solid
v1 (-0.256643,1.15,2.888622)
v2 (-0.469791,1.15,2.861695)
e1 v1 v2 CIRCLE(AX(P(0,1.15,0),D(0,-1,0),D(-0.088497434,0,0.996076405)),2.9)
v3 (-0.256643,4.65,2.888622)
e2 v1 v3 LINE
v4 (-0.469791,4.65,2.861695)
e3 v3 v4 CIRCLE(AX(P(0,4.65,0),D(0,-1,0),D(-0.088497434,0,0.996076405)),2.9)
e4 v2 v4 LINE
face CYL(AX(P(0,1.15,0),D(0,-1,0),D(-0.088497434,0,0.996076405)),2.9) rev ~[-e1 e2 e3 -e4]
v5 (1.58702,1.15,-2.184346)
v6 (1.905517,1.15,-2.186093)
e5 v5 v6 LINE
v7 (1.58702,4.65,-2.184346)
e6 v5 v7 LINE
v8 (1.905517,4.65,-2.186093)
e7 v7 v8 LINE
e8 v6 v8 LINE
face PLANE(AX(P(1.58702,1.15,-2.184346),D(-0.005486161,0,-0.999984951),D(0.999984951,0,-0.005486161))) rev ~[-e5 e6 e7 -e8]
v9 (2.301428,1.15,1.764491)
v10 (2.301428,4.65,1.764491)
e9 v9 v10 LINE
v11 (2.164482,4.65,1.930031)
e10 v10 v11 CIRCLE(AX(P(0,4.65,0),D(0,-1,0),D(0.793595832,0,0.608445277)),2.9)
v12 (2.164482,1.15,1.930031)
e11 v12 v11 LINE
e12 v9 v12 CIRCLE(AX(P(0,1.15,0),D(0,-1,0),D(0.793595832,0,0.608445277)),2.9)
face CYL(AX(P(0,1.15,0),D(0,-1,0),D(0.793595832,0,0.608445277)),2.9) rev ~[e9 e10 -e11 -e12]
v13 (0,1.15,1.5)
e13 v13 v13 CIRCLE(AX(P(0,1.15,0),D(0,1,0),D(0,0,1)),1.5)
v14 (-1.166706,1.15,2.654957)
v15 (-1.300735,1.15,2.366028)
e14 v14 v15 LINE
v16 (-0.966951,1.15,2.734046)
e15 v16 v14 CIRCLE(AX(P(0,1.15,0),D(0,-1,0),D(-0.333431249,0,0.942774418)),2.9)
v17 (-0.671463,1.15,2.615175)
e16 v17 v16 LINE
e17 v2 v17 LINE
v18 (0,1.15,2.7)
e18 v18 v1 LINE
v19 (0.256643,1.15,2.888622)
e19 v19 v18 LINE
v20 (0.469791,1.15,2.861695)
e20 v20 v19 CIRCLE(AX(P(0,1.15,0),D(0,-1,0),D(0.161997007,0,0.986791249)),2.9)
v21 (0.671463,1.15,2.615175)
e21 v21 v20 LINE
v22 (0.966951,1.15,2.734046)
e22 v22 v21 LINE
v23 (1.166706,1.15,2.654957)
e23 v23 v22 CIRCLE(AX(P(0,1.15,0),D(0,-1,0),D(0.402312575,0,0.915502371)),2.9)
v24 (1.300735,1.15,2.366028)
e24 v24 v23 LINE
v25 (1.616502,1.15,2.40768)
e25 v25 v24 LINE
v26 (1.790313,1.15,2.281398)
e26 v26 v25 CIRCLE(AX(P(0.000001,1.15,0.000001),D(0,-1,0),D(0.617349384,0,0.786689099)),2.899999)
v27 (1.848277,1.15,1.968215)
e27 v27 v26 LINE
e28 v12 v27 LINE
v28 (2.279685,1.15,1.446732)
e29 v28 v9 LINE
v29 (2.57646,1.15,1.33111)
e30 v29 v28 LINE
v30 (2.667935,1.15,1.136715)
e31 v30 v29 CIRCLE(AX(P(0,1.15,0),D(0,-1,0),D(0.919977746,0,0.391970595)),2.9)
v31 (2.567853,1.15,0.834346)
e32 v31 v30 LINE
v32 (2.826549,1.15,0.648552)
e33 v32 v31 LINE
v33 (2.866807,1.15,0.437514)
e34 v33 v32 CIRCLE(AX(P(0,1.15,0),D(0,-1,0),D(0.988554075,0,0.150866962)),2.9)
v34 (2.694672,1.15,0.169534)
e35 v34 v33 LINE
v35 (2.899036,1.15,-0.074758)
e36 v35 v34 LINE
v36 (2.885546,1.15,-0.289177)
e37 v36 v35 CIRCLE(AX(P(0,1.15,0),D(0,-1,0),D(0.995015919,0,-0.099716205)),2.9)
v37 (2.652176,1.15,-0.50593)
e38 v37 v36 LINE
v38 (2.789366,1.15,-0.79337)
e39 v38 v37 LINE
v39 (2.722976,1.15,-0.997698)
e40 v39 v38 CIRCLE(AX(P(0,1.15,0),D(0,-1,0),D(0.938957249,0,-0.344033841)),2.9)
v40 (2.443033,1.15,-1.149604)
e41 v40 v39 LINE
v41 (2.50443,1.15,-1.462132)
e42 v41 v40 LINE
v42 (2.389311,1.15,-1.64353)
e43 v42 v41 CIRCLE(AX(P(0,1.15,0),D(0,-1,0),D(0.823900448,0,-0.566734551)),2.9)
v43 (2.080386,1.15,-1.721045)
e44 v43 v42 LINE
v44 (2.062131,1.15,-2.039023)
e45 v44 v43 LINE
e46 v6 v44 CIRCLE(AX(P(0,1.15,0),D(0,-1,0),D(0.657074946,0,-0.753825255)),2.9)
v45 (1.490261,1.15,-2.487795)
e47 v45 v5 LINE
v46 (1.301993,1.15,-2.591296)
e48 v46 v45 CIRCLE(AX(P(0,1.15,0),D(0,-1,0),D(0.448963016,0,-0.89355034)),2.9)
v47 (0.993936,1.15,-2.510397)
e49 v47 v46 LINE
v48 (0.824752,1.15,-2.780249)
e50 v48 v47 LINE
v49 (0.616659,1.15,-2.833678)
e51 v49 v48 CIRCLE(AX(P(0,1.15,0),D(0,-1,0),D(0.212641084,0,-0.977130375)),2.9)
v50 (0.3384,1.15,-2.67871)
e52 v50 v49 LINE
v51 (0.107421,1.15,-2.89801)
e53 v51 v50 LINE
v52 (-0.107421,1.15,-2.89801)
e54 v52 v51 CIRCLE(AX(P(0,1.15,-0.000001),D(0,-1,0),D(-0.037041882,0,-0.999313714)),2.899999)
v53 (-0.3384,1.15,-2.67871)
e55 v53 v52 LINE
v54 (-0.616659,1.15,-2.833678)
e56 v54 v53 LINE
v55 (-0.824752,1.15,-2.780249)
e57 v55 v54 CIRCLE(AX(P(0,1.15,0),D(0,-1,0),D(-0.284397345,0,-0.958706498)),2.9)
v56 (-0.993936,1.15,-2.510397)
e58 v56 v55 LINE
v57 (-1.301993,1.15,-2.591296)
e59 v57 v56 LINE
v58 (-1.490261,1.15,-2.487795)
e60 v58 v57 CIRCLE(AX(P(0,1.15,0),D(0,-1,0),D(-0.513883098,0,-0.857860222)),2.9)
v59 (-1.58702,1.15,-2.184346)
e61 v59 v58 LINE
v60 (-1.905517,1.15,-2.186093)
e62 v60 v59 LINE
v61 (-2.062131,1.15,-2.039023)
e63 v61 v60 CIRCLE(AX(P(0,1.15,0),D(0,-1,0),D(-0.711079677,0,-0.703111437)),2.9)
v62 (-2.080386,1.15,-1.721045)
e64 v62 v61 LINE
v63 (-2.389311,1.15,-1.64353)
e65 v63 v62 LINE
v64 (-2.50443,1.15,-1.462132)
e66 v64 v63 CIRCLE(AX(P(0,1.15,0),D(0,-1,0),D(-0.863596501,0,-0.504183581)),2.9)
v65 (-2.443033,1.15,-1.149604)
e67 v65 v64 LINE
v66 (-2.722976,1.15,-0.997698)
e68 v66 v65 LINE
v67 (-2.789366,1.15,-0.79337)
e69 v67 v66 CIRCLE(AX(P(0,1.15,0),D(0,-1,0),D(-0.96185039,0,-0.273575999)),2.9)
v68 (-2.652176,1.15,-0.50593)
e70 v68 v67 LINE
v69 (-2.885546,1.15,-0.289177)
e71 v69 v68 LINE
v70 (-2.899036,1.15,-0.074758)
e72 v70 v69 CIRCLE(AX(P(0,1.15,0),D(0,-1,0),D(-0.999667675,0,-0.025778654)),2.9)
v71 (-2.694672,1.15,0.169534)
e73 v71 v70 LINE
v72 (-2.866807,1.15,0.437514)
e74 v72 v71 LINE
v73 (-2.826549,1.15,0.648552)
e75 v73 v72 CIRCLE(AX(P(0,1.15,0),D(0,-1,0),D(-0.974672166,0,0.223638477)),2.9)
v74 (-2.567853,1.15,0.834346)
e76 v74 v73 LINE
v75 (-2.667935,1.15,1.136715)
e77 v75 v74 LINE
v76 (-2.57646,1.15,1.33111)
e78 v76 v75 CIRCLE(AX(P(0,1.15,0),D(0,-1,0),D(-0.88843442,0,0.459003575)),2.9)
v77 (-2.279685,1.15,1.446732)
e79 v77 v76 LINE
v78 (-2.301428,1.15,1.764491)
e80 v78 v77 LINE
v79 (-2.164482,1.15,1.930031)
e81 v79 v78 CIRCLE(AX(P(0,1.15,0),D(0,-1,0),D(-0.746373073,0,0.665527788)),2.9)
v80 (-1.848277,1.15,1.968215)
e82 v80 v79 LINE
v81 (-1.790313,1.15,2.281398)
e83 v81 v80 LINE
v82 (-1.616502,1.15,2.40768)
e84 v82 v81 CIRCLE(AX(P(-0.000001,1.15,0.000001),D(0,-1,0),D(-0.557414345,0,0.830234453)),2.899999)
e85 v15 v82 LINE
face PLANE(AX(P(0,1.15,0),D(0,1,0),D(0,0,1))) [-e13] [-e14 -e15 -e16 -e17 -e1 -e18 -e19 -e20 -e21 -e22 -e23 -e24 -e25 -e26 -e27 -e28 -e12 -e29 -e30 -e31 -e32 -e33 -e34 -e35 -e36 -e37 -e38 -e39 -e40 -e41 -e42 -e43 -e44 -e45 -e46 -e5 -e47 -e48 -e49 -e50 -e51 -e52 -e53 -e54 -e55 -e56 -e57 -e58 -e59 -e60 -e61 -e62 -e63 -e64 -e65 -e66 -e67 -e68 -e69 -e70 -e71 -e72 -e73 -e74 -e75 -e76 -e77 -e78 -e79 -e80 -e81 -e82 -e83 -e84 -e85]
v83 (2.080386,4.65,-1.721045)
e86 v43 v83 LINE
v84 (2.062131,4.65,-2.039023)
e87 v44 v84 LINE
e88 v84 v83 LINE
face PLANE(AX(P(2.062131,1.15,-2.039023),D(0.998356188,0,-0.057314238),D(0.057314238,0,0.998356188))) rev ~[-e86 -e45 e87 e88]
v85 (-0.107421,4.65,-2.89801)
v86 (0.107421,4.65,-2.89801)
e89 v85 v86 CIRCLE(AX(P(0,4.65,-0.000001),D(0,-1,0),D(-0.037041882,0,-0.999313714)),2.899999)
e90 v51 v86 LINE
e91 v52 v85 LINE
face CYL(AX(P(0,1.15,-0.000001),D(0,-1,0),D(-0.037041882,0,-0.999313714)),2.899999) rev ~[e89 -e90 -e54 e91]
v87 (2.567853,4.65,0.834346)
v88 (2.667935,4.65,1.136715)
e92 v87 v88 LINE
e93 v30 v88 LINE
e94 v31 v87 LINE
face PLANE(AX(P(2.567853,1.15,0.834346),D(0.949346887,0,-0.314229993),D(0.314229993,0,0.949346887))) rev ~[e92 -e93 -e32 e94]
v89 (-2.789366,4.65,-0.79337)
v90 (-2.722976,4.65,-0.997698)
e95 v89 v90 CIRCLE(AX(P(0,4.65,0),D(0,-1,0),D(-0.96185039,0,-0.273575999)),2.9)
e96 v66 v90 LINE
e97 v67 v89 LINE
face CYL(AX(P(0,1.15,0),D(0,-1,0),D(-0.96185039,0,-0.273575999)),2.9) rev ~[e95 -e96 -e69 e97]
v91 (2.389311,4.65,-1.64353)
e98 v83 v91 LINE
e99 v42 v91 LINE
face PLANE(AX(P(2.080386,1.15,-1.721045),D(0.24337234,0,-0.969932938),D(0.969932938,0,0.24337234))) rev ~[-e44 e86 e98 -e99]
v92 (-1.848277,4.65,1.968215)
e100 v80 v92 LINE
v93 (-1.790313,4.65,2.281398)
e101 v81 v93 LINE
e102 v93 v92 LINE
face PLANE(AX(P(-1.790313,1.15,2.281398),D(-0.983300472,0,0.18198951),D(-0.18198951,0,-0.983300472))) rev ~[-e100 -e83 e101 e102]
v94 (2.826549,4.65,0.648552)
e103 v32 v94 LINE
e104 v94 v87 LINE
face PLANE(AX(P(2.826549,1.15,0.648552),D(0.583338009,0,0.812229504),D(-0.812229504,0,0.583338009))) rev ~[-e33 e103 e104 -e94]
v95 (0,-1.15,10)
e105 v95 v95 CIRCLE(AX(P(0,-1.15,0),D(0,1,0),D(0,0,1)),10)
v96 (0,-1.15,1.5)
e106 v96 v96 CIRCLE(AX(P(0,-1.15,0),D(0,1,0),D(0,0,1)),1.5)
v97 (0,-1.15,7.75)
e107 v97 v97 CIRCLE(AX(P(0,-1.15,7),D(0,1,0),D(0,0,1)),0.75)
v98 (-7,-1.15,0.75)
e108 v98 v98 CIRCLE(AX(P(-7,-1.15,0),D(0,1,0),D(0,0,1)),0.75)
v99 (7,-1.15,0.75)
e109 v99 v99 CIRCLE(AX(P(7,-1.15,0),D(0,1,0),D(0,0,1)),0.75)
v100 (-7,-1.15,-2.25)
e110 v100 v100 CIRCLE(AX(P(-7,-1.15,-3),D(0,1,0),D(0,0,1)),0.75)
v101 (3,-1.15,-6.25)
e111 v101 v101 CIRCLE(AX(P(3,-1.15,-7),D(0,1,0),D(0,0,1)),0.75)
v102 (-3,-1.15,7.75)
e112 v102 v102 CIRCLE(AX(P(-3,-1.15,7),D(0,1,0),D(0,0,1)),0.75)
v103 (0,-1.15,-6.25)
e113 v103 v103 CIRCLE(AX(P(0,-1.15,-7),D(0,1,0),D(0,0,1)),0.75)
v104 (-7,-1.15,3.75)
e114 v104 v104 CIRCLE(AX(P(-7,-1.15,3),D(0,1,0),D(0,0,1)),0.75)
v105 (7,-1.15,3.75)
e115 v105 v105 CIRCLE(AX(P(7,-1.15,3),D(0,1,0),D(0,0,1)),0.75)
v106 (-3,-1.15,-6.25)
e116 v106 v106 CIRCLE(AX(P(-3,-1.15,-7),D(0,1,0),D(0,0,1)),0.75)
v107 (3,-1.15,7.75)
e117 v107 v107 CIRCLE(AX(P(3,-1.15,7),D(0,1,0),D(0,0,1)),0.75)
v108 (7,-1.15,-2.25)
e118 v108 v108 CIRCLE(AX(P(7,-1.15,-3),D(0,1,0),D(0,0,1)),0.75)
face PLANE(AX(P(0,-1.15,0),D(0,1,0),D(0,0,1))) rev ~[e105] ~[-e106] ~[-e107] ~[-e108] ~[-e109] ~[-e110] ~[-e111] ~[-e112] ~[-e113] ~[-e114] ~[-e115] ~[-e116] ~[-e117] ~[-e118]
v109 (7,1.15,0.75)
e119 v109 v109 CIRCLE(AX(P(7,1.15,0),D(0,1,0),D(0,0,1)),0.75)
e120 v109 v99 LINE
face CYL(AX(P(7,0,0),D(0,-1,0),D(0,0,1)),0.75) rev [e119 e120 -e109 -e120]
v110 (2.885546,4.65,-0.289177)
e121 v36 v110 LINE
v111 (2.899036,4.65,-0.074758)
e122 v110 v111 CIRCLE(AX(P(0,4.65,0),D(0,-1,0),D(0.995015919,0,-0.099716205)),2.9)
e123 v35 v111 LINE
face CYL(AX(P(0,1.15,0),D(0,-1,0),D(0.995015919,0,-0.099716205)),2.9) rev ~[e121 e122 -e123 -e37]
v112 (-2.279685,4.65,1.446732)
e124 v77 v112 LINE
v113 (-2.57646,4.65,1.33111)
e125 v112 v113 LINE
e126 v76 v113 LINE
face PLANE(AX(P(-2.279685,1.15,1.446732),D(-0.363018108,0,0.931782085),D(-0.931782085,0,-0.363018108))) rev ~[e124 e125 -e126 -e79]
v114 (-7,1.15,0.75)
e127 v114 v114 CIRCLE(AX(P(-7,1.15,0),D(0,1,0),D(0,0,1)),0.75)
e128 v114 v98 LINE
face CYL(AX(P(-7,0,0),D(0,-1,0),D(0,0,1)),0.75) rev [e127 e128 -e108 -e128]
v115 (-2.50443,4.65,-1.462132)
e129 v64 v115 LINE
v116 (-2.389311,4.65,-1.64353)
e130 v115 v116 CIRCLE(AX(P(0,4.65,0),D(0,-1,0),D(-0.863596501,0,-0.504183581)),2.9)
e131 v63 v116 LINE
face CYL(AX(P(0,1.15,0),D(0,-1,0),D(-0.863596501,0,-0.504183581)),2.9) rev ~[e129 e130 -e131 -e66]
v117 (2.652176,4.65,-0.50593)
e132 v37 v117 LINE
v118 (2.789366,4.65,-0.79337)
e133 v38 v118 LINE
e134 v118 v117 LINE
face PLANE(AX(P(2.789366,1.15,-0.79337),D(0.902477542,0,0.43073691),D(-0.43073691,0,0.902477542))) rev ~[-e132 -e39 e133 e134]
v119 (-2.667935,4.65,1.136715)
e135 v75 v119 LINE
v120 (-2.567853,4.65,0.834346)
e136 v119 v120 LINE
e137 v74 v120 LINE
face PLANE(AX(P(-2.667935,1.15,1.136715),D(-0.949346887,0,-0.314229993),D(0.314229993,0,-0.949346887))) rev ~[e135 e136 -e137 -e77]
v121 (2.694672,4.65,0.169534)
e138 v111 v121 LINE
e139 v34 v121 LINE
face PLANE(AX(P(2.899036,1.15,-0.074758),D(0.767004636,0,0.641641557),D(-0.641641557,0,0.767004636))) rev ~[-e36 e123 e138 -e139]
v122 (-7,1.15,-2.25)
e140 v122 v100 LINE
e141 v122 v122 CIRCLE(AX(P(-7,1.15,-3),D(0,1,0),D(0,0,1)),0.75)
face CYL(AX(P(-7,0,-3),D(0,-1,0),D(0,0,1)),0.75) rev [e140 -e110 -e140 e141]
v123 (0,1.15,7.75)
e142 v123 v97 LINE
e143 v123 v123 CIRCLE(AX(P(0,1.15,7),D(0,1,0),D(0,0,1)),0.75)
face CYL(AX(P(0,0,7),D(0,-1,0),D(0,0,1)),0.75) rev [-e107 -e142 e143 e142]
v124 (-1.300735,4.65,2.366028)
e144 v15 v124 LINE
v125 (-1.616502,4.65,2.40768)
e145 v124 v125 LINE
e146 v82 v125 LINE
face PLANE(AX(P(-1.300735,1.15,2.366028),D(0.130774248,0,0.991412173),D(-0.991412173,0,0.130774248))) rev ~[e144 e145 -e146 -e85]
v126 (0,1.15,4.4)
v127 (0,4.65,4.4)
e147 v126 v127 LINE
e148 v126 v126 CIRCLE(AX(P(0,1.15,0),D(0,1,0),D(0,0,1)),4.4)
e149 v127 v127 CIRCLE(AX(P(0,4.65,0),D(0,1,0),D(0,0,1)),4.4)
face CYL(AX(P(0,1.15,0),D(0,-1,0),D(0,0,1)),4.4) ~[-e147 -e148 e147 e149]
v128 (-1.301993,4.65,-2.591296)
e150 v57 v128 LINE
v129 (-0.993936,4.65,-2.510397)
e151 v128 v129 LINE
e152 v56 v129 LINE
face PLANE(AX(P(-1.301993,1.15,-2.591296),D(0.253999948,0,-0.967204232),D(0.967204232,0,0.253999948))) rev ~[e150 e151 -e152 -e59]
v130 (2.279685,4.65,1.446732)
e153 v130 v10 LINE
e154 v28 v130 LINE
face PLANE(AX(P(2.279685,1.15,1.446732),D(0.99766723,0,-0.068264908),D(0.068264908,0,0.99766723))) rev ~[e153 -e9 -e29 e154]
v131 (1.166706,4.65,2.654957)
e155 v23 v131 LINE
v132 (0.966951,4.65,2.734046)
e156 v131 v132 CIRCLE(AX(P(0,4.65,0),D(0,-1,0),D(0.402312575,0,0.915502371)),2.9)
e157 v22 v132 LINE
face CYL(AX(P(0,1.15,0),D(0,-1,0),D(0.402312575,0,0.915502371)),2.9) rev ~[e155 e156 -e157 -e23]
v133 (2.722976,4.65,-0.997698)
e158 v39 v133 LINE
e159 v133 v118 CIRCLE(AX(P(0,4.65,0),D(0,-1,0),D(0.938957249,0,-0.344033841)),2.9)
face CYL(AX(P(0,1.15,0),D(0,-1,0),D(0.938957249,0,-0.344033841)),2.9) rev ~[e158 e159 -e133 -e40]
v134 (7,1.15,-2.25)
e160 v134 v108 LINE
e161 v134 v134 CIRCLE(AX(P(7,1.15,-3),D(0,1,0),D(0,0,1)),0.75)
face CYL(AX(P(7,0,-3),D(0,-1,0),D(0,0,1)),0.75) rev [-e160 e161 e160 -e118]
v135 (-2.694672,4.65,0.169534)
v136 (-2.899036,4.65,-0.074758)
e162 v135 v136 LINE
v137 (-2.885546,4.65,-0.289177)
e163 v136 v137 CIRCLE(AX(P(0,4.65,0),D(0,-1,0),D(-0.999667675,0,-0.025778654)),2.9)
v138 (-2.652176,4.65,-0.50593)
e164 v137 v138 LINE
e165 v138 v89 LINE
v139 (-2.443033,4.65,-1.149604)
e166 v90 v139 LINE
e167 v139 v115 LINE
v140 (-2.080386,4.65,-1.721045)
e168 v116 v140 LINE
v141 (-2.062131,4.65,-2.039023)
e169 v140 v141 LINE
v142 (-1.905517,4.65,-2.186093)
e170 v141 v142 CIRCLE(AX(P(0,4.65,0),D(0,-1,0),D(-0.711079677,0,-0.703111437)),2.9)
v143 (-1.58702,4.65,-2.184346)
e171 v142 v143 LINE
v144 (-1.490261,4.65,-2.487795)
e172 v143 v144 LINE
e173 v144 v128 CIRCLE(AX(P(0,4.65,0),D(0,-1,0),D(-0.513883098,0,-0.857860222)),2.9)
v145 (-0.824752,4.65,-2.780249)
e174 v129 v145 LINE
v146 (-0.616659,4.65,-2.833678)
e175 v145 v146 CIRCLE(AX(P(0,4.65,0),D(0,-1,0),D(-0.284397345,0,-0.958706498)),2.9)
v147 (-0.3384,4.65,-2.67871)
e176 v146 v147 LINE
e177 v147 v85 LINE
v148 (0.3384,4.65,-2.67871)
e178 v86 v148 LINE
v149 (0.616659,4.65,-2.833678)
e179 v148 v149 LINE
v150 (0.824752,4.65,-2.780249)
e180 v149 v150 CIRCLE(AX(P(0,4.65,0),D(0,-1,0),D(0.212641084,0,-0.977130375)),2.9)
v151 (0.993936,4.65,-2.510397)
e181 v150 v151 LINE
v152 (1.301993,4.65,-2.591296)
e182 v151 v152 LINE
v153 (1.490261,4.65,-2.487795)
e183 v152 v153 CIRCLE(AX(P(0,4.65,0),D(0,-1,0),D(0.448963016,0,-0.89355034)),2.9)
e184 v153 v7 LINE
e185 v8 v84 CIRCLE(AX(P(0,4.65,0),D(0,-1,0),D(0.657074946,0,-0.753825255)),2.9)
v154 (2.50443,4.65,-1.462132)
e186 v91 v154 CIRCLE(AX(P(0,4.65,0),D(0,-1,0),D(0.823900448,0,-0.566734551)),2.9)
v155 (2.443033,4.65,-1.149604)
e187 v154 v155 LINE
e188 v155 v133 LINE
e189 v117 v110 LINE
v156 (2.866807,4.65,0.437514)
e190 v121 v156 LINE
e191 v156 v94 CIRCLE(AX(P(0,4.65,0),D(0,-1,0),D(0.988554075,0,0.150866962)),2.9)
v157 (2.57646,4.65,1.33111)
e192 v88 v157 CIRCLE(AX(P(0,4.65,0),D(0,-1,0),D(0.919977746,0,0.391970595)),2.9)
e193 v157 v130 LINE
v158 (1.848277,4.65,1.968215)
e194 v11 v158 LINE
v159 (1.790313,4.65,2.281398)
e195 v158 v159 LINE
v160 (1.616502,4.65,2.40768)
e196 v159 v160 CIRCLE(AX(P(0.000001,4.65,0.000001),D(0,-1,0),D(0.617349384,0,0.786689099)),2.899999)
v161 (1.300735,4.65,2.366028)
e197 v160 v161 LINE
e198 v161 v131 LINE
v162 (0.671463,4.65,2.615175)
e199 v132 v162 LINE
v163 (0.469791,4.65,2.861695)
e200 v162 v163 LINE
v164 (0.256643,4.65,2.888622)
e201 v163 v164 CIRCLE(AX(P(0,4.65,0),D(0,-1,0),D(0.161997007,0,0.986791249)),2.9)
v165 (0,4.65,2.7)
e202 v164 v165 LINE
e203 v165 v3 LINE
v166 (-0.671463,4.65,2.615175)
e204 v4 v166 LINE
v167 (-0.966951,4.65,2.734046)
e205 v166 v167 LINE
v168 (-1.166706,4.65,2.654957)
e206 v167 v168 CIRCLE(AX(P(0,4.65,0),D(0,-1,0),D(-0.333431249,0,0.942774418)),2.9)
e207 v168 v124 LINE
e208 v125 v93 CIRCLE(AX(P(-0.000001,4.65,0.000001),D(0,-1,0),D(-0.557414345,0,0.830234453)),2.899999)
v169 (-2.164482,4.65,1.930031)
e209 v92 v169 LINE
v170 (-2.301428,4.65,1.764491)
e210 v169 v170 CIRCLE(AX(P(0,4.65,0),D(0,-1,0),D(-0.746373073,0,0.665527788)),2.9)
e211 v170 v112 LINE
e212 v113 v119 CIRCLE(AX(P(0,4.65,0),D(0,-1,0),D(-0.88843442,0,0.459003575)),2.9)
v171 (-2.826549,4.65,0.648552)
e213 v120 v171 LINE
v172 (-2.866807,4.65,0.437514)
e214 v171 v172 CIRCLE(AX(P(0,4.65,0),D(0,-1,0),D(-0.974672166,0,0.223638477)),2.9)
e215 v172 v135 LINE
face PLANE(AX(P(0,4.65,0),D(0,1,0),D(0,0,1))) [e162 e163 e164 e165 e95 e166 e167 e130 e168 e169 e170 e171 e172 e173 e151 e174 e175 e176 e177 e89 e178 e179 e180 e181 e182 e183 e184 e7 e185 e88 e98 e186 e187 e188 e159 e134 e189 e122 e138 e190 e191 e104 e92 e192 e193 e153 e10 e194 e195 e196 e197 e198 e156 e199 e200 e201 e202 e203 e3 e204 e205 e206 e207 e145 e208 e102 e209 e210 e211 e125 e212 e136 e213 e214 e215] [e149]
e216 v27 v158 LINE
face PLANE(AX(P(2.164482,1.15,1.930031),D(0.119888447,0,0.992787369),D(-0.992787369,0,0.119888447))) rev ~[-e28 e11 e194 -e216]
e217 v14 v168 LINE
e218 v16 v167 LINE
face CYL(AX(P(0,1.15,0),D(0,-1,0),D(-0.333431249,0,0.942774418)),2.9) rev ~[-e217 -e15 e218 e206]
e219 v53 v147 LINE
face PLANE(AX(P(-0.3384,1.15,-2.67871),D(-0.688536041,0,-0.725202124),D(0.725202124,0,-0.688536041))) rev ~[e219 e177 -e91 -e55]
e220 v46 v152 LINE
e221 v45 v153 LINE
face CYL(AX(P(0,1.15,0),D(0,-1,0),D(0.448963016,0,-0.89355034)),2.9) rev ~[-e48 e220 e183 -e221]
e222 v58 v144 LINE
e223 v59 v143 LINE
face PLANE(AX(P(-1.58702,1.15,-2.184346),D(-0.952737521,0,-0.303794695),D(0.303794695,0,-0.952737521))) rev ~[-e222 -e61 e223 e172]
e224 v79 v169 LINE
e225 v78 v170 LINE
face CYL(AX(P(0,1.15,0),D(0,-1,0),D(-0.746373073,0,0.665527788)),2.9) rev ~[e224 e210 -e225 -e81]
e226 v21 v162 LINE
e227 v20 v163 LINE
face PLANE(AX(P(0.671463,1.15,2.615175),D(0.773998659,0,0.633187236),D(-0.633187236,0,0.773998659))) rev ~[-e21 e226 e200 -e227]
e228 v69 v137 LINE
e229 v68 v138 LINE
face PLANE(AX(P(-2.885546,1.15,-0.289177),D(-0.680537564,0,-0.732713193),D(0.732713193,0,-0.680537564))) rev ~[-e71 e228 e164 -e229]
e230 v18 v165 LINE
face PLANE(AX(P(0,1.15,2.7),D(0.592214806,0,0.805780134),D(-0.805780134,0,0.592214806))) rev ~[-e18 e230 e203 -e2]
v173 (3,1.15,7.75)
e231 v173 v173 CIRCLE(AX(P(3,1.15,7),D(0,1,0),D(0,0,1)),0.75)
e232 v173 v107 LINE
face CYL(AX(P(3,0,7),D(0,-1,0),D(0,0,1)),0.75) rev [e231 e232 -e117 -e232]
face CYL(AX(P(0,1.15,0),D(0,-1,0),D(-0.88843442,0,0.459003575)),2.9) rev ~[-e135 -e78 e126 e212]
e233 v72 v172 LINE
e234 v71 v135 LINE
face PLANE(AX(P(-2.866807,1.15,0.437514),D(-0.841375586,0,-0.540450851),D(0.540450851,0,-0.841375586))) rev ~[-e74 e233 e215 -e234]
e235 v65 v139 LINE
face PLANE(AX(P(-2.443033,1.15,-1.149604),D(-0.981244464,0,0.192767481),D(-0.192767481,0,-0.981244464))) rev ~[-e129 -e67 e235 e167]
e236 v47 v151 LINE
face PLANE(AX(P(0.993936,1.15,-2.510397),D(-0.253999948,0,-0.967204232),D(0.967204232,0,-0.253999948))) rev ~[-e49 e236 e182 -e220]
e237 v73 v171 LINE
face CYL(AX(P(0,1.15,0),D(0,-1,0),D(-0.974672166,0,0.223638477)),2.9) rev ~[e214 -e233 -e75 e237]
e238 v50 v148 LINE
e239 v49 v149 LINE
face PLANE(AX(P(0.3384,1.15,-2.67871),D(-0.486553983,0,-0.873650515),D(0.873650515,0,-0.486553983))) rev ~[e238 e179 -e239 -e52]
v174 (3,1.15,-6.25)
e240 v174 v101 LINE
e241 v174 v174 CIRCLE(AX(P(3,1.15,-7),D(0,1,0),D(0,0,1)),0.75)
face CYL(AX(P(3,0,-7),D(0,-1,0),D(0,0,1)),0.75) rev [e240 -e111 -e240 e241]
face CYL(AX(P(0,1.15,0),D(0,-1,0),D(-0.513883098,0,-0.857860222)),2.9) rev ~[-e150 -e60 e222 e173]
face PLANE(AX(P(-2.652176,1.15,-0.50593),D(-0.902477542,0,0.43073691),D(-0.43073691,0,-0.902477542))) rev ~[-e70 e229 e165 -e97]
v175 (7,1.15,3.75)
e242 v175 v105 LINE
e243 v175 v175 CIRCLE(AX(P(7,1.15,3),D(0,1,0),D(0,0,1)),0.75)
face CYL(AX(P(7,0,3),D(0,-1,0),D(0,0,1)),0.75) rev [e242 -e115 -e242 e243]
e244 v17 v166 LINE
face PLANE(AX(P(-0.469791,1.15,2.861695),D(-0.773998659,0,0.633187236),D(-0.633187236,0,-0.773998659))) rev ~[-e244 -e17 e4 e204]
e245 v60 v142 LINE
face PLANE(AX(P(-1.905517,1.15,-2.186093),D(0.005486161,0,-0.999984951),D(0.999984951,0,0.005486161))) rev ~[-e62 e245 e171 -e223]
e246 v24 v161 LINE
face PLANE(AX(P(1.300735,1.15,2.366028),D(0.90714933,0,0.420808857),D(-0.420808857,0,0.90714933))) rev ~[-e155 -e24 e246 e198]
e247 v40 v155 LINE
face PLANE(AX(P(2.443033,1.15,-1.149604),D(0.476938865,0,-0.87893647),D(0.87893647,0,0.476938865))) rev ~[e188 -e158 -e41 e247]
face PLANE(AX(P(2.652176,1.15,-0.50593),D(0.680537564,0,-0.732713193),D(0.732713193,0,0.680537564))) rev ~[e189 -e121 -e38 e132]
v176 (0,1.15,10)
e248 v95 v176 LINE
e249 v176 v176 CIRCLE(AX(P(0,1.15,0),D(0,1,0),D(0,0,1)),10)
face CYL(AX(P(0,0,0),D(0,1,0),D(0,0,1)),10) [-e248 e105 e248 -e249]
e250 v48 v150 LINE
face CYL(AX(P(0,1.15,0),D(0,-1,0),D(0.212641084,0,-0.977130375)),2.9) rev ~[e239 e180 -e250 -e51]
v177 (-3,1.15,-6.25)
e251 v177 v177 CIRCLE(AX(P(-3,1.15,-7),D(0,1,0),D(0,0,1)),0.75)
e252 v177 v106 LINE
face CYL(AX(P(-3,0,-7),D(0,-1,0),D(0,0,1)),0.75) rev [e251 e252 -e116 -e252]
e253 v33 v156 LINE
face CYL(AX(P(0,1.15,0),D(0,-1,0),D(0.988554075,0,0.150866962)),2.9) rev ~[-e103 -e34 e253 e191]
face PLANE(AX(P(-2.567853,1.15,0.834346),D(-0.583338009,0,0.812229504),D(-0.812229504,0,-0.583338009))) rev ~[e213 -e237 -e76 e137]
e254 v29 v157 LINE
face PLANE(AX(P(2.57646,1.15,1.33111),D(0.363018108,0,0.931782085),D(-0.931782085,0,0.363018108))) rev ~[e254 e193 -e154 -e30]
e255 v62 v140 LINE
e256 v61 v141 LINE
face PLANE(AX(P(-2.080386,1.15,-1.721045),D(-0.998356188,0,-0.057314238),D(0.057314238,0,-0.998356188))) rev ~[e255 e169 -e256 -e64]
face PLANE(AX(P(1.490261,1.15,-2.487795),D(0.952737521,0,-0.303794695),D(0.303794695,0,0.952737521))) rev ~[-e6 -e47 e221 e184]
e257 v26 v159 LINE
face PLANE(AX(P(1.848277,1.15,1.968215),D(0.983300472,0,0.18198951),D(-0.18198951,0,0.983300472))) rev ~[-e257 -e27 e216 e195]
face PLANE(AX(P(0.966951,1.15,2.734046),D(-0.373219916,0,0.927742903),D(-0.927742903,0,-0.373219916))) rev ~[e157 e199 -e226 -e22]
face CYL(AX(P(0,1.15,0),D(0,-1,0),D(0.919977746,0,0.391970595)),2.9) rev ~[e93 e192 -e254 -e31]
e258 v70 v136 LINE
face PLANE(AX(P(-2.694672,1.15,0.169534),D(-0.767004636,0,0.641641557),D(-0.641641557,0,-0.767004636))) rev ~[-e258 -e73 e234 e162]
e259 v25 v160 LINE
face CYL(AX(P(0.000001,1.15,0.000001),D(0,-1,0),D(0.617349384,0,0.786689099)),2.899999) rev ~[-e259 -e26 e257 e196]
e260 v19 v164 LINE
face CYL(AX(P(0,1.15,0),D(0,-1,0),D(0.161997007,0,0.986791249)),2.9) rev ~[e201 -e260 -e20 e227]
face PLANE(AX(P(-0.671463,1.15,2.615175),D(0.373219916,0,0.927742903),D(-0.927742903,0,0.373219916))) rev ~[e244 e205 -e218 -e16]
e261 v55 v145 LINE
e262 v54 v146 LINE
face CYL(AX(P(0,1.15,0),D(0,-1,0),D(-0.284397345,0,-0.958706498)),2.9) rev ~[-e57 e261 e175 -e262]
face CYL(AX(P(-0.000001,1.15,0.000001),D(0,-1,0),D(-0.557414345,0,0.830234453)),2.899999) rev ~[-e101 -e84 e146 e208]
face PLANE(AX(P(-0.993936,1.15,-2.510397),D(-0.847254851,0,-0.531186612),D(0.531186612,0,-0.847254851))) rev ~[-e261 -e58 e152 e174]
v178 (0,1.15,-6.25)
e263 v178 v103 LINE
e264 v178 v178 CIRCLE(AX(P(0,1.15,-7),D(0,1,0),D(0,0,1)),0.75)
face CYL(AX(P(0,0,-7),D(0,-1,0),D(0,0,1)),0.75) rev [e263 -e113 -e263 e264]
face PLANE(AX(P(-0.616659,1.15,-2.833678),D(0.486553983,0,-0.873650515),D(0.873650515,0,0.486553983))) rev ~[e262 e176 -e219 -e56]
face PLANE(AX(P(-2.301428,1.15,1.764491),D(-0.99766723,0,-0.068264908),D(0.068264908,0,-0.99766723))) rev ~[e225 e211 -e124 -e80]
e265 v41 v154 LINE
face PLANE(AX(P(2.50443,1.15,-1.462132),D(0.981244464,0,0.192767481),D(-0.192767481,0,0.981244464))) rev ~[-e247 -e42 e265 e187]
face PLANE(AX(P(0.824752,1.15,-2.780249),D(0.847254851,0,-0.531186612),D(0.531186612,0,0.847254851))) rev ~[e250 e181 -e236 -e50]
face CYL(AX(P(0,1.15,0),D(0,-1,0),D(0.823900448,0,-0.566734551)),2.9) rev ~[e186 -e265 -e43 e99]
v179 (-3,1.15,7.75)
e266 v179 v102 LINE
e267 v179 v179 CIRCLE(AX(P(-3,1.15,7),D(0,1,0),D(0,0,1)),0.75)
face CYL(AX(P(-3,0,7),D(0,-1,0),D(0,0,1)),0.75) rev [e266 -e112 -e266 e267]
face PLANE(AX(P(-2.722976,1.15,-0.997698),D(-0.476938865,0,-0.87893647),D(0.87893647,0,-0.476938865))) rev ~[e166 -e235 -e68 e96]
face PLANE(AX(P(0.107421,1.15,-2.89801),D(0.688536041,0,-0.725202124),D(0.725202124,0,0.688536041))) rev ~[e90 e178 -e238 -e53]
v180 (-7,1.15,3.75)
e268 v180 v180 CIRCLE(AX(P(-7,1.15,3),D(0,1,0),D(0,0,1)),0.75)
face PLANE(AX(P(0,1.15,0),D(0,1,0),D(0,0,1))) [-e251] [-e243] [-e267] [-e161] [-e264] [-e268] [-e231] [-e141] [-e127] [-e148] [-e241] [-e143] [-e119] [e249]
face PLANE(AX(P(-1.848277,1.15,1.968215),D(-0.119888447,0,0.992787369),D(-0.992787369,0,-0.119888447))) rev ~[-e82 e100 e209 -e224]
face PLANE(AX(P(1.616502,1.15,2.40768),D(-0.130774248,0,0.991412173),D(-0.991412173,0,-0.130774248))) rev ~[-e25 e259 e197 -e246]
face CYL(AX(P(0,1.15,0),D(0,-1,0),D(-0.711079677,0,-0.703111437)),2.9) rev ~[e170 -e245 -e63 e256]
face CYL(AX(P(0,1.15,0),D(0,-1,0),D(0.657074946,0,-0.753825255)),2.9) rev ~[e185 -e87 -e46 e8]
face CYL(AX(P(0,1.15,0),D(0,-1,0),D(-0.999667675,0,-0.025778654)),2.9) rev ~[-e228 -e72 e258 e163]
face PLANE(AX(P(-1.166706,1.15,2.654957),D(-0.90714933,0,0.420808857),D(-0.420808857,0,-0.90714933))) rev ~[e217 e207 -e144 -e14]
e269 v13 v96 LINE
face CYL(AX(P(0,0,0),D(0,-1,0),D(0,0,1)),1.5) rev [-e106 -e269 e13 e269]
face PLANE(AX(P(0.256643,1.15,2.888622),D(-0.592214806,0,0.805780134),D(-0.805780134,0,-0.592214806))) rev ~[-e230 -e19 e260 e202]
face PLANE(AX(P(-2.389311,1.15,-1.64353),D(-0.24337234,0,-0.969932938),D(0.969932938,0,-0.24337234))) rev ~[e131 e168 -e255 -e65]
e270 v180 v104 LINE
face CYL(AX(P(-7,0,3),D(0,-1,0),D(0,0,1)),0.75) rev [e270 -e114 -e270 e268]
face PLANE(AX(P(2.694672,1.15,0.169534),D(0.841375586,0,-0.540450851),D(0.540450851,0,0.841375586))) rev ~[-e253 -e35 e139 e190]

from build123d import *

# Parameters (mm, degrees)
SKETCH2_R           = 6
SKETCH2_R_2         = 1.5
BOSS_EXTRUDE1_DEPTH = 1.15
SKETCH3_R           = 4.4
BOSS_EXTRUDE2_DEPTH = 3.5
SKETCH5_R           = 10
SKETCH5_R_2         = 0.75
SKETCH5_R_3         = 1.5
BOSS_EXTRUDE4_DEPTH = 1.15


with BuildPart() as part:
    # Sketch2 → Boss-Extrude1 (new, symmetric)
    with BuildSketch(Plane(origin=(0, 0, 0), x_dir=(1, 0, 0), z_dir=(0, 1, 0))):
        with Locations(Location((0, 0, 0), (0, 0, 270))):
            Circle(SKETCH2_R)
        with Locations(Location((0, 0, 0), (0, 0, 270))):
            Circle(SKETCH2_R_2, mode=Mode.SUBTRACT)
    extrude(amount=BOSS_EXTRUDE1_DEPTH, both=True)

    # Sketch3 → Boss-Extrude2 (add)
    with BuildSketch(Plane(origin=(0, 1.15, 0), x_dir=(1, 0, 0), z_dir=(0, 1, 0))):
        with Locations(Location((0, 0, 0), (0, 0, 270))):
            Circle(SKETCH3_R)
        with BuildLine():
            Line((0.107421435, 2.898009771), (0.338399731, 2.678709694))
            Line((0.338399731, 2.678709694), (0.61665913, 2.83367809))
            ThreePointArc((0.61665913, 2.83367809), (0.721200673, 2.808891167), (0.824752316, 2.780248841))
            Line((0.824752316, 2.780248841), (0.993936292, 2.510396512))
            Line((0.993936292, 2.510396512), (1.301992734, 2.591295993))
            ThreePointArc((1.301992734, 2.591295993), (1.397085655, 2.541289372), (1.490260976, 2.48779465))
            Line((1.490260976, 2.48779465), (1.587020181, 2.184345885))
            Line((1.587020181, 2.184345885), (1.905517346, 2.186093238))
            ThreePointArc((1.905517346, 2.186093238), (1.985186607, 2.11400902), (2.062131058, 2.039023173))
            Line((2.062131058, 2.039023173), (2.080385755, 1.721044772))
            Line((2.080385755, 1.721044772), (2.389311295, 1.643530205))
            ThreePointArc((2.389311295, 1.643530205), (2.448550984, 1.553897705), (2.504429862, 1.46213237))
            Line((2.504429862, 1.46213237), (2.443033042, 1.149604087))
            Line((2.443033042, 1.149604087), (2.722976028, 0.997698125))
            ThreePointArc((2.722976028, 0.997698125), (2.758063897, 0.896149284), (2.789366126, 0.793370413))
            Line((2.789366126, 0.793370413), (2.652175577, 0.505929549))
            Line((2.652175577, 0.505929549), (2.885546163, 0.289177003))
            ThreePointArc((2.885546163, 0.289177003), (2.894277512, 0.182092507), (2.899036259, 0.074758075))
            Line((2.899036259, 0.074758075), (2.694672167, -0.169534403))
            Line((2.694672167, -0.169534403), (2.866806821, -0.437514174))
            ThreePointArc((2.866806821, -0.437514174), (2.848633027, -0.543405812), (2.826549281, -0.648551587))
            Line((2.826549281, -0.648551587), (2.567852594, -0.834345885))
            Line((2.567852594, -0.834345885), (2.667935462, -1.136714727))
            ThreePointArc((2.667935462, -1.136714727), (2.623998452, -1.234759946), (2.576459817, -1.331110368))
            Line((2.576459817, -1.331110368), (2.279685399, -1.446732346))
            Line((2.279685399, -1.446732346), (2.301427906, -1.764491312))
            ThreePointArc((2.301427906, -1.764491312), (2.234488404, -1.84852957), (2.164481907, -1.930030589))
            Line((2.164481907, -1.930030589), (1.848277186, -1.968215294))
            Line((1.848277186, -1.968215294), (1.790313171, -2.281398419))
            ThreePointArc((1.790313171, -2.281398419), (1.704577232, -2.346149284), (1.616501638, -2.40767989))
            Line((1.616501638, -2.40767989), (1.30073492, -2.366028036))
            Line((1.30073492, -2.366028036), (1.166706475, -2.654956874))
            ThreePointArc((1.166706475, -2.654956874), (1.067561203, -2.696351809), (0.966950626, -2.734045809))
            Line((0.966950626, -2.734045809), (0.671462695, -2.615174535))
            Line((0.671462695, -2.615174535), (0.469791321, -2.861694623))
            ThreePointArc((0.469791321, -2.861694623), (0.363466377, -2.877132634), (0.25664255, -2.888621575))
            Line((0.25664255, -2.888621575), (0, -2.7))
            Line((0, -2.7), (-0.25664255, -2.888621575))
            ThreePointArc((-0.25664255, -2.888621575), (-0.363466377, -2.877132634), (-0.469791321, -2.861694623))
            Line((-0.469791321, -2.861694623), (-0.671462695, -2.615174535))
            Line((-0.671462695, -2.615174535), (-0.966950626, -2.734045809))
            ThreePointArc((-0.966950626, -2.734045809), (-1.067561203, -2.696351809), (-1.166706475, -2.654956874))
            Line((-1.166706475, -2.654956874), (-1.30073492, -2.366028036))
            Line((-1.30073492, -2.366028036), (-1.616501638, -2.40767989))
            ThreePointArc((-1.616501638, -2.40767989), (-1.704577232, -2.346149284), (-1.790313171, -2.281398419))
            Line((-1.790313171, -2.281398419), (-1.848277186, -1.968215294))
            Line((-1.848277186, -1.968215294), (-2.164481907, -1.930030589))
            ThreePointArc((-2.164481907, -1.930030589), (-2.234488404, -1.84852957), (-2.301427906, -1.764491312))
            Line((-2.301427906, -1.764491312), (-2.279685399, -1.446732346))
            Line((-2.279685399, -1.446732346), (-2.576459817, -1.331110368))
            ThreePointArc((-2.576459817, -1.331110368), (-2.623998452, -1.234759946), (-2.667935462, -1.136714727))
            Line((-2.667935462, -1.136714727), (-2.567852594, -0.834345885))
            Line((-2.567852594, -0.834345885), (-2.826549281, -0.648551587))
            ThreePointArc((-2.826549281, -0.648551587), (-2.848633027, -0.543405812), (-2.866806821, -0.437514174))
            Line((-2.866806821, -0.437514174), (-2.694672167, -0.169534403))
            Line((-2.694672167, -0.169534403), (-2.899036259, 0.074758075))
            ThreePointArc((-2.899036259, 0.074758075), (-2.894277512, 0.182092507), (-2.885546163, 0.289177003))
            Line((-2.885546163, 0.289177003), (-2.652175577, 0.505929549))
            Line((-2.652175577, 0.505929549), (-2.789366126, 0.793370413))
            ThreePointArc((-2.789366126, 0.793370413), (-2.758063897, 0.896149284), (-2.722976028, 0.997698125))
            Line((-2.722976028, 0.997698125), (-2.443033042, 1.149604087))
            Line((-2.443033042, 1.149604087), (-2.504429862, 1.46213237))
            ThreePointArc((-2.504429862, 1.46213237), (-2.448550984, 1.553897705), (-2.389311295, 1.643530205))
            Line((-2.389311295, 1.643530205), (-2.080385755, 1.721044772))
            Line((-2.080385755, 1.721044772), (-2.062131058, 2.039023173))
            ThreePointArc((-2.062131058, 2.039023173), (-1.985186607, 2.11400902), (-1.905517346, 2.186093238))
            Line((-1.905517346, 2.186093238), (-1.587020181, 2.184345885))
            Line((-1.587020181, 2.184345885), (-1.490260976, 2.48779465))
            ThreePointArc((-1.490260976, 2.48779465), (-1.397085655, 2.541289372), (-1.301992734, 2.591295993))
            Line((-1.301992734, 2.591295993), (-0.993936292, 2.510396512))
            Line((-0.993936292, 2.510396512), (-0.824752316, 2.780248841))
            ThreePointArc((-0.824752316, 2.780248841), (-0.721200673, 2.808891167), (-0.61665913, 2.83367809))
            Line((-0.61665913, 2.83367809), (-0.338399731, 2.678709694))
            Line((-0.338399731, 2.678709694), (-0.107421435, 2.898009771))
            ThreePointArc((-0.107421435, 2.898009771), (0, 2.9), (0.107421435, 2.898009771))
        make_face(mode=Mode.SUBTRACT)
    extrude(amount=BOSS_EXTRUDE2_DEPTH)

    # Sketch5 → Boss-Extrude4 (add, symmetric)
    with BuildSketch(Plane(origin=(0, 0, 0), x_dir=(1, 0, 0), z_dir=(0, 1, 0))):
        with Locations(Location((0, 0, 0), (0, 0, 270))):
            Circle(SKETCH5_R)
        with Locations(Location((0, 7, 0), (0, 0, 270))):
            Circle(SKETCH5_R_2, mode=Mode.SUBTRACT)
        with Locations(Location((-3, 7, 0), (0, 0, 270))):
            Circle(SKETCH5_R_2, mode=Mode.SUBTRACT)
        with Locations(Location((3, 7, 0), (0, 0, 270))):
            Circle(SKETCH5_R_2, mode=Mode.SUBTRACT)
        with Locations(Location((7, 3, 0), (0, 0, 270))):
            Circle(SKETCH5_R_2, mode=Mode.SUBTRACT)
        with Locations(Location((7, 0, 0), (0, 0, 270))):
            Circle(SKETCH5_R_2, mode=Mode.SUBTRACT)
        with Locations(Location((7, -3, 0), (0, 0, 270))):
            Circle(SKETCH5_R_2, mode=Mode.SUBTRACT)
        with Locations(Location((3, -7, 0), (0, 0, 270))):
            Circle(SKETCH5_R_2, mode=Mode.SUBTRACT)
        with Locations(Location((0, -7, 0), (0, 0, 270))):
            Circle(SKETCH5_R_2, mode=Mode.SUBTRACT)
        with Locations(Location((-3, -7, 0), (0, 0, 270))):
            Circle(SKETCH5_R_2, mode=Mode.SUBTRACT)
        with Locations(Location((-7, -3, 0), (0, 0, 270))):
            Circle(SKETCH5_R_2, mode=Mode.SUBTRACT)
        with Locations(Location((-7, 0, 0), (0, 0, 270))):
            Circle(SKETCH5_R_2, mode=Mode.SUBTRACT)
        with Locations(Location((-7, 3, 0), (0, 0, 270))):
            Circle(SKETCH5_R_2, mode=Mode.SUBTRACT)
        with Locations(Location((0, 0, 0), (0, 0, 270))):
            Circle(SKETCH5_R_3, mode=Mode.SUBTRACT)
    extrude(amount=BOSS_EXTRUDE4_DEPTH, both=True)


solid = part.part
